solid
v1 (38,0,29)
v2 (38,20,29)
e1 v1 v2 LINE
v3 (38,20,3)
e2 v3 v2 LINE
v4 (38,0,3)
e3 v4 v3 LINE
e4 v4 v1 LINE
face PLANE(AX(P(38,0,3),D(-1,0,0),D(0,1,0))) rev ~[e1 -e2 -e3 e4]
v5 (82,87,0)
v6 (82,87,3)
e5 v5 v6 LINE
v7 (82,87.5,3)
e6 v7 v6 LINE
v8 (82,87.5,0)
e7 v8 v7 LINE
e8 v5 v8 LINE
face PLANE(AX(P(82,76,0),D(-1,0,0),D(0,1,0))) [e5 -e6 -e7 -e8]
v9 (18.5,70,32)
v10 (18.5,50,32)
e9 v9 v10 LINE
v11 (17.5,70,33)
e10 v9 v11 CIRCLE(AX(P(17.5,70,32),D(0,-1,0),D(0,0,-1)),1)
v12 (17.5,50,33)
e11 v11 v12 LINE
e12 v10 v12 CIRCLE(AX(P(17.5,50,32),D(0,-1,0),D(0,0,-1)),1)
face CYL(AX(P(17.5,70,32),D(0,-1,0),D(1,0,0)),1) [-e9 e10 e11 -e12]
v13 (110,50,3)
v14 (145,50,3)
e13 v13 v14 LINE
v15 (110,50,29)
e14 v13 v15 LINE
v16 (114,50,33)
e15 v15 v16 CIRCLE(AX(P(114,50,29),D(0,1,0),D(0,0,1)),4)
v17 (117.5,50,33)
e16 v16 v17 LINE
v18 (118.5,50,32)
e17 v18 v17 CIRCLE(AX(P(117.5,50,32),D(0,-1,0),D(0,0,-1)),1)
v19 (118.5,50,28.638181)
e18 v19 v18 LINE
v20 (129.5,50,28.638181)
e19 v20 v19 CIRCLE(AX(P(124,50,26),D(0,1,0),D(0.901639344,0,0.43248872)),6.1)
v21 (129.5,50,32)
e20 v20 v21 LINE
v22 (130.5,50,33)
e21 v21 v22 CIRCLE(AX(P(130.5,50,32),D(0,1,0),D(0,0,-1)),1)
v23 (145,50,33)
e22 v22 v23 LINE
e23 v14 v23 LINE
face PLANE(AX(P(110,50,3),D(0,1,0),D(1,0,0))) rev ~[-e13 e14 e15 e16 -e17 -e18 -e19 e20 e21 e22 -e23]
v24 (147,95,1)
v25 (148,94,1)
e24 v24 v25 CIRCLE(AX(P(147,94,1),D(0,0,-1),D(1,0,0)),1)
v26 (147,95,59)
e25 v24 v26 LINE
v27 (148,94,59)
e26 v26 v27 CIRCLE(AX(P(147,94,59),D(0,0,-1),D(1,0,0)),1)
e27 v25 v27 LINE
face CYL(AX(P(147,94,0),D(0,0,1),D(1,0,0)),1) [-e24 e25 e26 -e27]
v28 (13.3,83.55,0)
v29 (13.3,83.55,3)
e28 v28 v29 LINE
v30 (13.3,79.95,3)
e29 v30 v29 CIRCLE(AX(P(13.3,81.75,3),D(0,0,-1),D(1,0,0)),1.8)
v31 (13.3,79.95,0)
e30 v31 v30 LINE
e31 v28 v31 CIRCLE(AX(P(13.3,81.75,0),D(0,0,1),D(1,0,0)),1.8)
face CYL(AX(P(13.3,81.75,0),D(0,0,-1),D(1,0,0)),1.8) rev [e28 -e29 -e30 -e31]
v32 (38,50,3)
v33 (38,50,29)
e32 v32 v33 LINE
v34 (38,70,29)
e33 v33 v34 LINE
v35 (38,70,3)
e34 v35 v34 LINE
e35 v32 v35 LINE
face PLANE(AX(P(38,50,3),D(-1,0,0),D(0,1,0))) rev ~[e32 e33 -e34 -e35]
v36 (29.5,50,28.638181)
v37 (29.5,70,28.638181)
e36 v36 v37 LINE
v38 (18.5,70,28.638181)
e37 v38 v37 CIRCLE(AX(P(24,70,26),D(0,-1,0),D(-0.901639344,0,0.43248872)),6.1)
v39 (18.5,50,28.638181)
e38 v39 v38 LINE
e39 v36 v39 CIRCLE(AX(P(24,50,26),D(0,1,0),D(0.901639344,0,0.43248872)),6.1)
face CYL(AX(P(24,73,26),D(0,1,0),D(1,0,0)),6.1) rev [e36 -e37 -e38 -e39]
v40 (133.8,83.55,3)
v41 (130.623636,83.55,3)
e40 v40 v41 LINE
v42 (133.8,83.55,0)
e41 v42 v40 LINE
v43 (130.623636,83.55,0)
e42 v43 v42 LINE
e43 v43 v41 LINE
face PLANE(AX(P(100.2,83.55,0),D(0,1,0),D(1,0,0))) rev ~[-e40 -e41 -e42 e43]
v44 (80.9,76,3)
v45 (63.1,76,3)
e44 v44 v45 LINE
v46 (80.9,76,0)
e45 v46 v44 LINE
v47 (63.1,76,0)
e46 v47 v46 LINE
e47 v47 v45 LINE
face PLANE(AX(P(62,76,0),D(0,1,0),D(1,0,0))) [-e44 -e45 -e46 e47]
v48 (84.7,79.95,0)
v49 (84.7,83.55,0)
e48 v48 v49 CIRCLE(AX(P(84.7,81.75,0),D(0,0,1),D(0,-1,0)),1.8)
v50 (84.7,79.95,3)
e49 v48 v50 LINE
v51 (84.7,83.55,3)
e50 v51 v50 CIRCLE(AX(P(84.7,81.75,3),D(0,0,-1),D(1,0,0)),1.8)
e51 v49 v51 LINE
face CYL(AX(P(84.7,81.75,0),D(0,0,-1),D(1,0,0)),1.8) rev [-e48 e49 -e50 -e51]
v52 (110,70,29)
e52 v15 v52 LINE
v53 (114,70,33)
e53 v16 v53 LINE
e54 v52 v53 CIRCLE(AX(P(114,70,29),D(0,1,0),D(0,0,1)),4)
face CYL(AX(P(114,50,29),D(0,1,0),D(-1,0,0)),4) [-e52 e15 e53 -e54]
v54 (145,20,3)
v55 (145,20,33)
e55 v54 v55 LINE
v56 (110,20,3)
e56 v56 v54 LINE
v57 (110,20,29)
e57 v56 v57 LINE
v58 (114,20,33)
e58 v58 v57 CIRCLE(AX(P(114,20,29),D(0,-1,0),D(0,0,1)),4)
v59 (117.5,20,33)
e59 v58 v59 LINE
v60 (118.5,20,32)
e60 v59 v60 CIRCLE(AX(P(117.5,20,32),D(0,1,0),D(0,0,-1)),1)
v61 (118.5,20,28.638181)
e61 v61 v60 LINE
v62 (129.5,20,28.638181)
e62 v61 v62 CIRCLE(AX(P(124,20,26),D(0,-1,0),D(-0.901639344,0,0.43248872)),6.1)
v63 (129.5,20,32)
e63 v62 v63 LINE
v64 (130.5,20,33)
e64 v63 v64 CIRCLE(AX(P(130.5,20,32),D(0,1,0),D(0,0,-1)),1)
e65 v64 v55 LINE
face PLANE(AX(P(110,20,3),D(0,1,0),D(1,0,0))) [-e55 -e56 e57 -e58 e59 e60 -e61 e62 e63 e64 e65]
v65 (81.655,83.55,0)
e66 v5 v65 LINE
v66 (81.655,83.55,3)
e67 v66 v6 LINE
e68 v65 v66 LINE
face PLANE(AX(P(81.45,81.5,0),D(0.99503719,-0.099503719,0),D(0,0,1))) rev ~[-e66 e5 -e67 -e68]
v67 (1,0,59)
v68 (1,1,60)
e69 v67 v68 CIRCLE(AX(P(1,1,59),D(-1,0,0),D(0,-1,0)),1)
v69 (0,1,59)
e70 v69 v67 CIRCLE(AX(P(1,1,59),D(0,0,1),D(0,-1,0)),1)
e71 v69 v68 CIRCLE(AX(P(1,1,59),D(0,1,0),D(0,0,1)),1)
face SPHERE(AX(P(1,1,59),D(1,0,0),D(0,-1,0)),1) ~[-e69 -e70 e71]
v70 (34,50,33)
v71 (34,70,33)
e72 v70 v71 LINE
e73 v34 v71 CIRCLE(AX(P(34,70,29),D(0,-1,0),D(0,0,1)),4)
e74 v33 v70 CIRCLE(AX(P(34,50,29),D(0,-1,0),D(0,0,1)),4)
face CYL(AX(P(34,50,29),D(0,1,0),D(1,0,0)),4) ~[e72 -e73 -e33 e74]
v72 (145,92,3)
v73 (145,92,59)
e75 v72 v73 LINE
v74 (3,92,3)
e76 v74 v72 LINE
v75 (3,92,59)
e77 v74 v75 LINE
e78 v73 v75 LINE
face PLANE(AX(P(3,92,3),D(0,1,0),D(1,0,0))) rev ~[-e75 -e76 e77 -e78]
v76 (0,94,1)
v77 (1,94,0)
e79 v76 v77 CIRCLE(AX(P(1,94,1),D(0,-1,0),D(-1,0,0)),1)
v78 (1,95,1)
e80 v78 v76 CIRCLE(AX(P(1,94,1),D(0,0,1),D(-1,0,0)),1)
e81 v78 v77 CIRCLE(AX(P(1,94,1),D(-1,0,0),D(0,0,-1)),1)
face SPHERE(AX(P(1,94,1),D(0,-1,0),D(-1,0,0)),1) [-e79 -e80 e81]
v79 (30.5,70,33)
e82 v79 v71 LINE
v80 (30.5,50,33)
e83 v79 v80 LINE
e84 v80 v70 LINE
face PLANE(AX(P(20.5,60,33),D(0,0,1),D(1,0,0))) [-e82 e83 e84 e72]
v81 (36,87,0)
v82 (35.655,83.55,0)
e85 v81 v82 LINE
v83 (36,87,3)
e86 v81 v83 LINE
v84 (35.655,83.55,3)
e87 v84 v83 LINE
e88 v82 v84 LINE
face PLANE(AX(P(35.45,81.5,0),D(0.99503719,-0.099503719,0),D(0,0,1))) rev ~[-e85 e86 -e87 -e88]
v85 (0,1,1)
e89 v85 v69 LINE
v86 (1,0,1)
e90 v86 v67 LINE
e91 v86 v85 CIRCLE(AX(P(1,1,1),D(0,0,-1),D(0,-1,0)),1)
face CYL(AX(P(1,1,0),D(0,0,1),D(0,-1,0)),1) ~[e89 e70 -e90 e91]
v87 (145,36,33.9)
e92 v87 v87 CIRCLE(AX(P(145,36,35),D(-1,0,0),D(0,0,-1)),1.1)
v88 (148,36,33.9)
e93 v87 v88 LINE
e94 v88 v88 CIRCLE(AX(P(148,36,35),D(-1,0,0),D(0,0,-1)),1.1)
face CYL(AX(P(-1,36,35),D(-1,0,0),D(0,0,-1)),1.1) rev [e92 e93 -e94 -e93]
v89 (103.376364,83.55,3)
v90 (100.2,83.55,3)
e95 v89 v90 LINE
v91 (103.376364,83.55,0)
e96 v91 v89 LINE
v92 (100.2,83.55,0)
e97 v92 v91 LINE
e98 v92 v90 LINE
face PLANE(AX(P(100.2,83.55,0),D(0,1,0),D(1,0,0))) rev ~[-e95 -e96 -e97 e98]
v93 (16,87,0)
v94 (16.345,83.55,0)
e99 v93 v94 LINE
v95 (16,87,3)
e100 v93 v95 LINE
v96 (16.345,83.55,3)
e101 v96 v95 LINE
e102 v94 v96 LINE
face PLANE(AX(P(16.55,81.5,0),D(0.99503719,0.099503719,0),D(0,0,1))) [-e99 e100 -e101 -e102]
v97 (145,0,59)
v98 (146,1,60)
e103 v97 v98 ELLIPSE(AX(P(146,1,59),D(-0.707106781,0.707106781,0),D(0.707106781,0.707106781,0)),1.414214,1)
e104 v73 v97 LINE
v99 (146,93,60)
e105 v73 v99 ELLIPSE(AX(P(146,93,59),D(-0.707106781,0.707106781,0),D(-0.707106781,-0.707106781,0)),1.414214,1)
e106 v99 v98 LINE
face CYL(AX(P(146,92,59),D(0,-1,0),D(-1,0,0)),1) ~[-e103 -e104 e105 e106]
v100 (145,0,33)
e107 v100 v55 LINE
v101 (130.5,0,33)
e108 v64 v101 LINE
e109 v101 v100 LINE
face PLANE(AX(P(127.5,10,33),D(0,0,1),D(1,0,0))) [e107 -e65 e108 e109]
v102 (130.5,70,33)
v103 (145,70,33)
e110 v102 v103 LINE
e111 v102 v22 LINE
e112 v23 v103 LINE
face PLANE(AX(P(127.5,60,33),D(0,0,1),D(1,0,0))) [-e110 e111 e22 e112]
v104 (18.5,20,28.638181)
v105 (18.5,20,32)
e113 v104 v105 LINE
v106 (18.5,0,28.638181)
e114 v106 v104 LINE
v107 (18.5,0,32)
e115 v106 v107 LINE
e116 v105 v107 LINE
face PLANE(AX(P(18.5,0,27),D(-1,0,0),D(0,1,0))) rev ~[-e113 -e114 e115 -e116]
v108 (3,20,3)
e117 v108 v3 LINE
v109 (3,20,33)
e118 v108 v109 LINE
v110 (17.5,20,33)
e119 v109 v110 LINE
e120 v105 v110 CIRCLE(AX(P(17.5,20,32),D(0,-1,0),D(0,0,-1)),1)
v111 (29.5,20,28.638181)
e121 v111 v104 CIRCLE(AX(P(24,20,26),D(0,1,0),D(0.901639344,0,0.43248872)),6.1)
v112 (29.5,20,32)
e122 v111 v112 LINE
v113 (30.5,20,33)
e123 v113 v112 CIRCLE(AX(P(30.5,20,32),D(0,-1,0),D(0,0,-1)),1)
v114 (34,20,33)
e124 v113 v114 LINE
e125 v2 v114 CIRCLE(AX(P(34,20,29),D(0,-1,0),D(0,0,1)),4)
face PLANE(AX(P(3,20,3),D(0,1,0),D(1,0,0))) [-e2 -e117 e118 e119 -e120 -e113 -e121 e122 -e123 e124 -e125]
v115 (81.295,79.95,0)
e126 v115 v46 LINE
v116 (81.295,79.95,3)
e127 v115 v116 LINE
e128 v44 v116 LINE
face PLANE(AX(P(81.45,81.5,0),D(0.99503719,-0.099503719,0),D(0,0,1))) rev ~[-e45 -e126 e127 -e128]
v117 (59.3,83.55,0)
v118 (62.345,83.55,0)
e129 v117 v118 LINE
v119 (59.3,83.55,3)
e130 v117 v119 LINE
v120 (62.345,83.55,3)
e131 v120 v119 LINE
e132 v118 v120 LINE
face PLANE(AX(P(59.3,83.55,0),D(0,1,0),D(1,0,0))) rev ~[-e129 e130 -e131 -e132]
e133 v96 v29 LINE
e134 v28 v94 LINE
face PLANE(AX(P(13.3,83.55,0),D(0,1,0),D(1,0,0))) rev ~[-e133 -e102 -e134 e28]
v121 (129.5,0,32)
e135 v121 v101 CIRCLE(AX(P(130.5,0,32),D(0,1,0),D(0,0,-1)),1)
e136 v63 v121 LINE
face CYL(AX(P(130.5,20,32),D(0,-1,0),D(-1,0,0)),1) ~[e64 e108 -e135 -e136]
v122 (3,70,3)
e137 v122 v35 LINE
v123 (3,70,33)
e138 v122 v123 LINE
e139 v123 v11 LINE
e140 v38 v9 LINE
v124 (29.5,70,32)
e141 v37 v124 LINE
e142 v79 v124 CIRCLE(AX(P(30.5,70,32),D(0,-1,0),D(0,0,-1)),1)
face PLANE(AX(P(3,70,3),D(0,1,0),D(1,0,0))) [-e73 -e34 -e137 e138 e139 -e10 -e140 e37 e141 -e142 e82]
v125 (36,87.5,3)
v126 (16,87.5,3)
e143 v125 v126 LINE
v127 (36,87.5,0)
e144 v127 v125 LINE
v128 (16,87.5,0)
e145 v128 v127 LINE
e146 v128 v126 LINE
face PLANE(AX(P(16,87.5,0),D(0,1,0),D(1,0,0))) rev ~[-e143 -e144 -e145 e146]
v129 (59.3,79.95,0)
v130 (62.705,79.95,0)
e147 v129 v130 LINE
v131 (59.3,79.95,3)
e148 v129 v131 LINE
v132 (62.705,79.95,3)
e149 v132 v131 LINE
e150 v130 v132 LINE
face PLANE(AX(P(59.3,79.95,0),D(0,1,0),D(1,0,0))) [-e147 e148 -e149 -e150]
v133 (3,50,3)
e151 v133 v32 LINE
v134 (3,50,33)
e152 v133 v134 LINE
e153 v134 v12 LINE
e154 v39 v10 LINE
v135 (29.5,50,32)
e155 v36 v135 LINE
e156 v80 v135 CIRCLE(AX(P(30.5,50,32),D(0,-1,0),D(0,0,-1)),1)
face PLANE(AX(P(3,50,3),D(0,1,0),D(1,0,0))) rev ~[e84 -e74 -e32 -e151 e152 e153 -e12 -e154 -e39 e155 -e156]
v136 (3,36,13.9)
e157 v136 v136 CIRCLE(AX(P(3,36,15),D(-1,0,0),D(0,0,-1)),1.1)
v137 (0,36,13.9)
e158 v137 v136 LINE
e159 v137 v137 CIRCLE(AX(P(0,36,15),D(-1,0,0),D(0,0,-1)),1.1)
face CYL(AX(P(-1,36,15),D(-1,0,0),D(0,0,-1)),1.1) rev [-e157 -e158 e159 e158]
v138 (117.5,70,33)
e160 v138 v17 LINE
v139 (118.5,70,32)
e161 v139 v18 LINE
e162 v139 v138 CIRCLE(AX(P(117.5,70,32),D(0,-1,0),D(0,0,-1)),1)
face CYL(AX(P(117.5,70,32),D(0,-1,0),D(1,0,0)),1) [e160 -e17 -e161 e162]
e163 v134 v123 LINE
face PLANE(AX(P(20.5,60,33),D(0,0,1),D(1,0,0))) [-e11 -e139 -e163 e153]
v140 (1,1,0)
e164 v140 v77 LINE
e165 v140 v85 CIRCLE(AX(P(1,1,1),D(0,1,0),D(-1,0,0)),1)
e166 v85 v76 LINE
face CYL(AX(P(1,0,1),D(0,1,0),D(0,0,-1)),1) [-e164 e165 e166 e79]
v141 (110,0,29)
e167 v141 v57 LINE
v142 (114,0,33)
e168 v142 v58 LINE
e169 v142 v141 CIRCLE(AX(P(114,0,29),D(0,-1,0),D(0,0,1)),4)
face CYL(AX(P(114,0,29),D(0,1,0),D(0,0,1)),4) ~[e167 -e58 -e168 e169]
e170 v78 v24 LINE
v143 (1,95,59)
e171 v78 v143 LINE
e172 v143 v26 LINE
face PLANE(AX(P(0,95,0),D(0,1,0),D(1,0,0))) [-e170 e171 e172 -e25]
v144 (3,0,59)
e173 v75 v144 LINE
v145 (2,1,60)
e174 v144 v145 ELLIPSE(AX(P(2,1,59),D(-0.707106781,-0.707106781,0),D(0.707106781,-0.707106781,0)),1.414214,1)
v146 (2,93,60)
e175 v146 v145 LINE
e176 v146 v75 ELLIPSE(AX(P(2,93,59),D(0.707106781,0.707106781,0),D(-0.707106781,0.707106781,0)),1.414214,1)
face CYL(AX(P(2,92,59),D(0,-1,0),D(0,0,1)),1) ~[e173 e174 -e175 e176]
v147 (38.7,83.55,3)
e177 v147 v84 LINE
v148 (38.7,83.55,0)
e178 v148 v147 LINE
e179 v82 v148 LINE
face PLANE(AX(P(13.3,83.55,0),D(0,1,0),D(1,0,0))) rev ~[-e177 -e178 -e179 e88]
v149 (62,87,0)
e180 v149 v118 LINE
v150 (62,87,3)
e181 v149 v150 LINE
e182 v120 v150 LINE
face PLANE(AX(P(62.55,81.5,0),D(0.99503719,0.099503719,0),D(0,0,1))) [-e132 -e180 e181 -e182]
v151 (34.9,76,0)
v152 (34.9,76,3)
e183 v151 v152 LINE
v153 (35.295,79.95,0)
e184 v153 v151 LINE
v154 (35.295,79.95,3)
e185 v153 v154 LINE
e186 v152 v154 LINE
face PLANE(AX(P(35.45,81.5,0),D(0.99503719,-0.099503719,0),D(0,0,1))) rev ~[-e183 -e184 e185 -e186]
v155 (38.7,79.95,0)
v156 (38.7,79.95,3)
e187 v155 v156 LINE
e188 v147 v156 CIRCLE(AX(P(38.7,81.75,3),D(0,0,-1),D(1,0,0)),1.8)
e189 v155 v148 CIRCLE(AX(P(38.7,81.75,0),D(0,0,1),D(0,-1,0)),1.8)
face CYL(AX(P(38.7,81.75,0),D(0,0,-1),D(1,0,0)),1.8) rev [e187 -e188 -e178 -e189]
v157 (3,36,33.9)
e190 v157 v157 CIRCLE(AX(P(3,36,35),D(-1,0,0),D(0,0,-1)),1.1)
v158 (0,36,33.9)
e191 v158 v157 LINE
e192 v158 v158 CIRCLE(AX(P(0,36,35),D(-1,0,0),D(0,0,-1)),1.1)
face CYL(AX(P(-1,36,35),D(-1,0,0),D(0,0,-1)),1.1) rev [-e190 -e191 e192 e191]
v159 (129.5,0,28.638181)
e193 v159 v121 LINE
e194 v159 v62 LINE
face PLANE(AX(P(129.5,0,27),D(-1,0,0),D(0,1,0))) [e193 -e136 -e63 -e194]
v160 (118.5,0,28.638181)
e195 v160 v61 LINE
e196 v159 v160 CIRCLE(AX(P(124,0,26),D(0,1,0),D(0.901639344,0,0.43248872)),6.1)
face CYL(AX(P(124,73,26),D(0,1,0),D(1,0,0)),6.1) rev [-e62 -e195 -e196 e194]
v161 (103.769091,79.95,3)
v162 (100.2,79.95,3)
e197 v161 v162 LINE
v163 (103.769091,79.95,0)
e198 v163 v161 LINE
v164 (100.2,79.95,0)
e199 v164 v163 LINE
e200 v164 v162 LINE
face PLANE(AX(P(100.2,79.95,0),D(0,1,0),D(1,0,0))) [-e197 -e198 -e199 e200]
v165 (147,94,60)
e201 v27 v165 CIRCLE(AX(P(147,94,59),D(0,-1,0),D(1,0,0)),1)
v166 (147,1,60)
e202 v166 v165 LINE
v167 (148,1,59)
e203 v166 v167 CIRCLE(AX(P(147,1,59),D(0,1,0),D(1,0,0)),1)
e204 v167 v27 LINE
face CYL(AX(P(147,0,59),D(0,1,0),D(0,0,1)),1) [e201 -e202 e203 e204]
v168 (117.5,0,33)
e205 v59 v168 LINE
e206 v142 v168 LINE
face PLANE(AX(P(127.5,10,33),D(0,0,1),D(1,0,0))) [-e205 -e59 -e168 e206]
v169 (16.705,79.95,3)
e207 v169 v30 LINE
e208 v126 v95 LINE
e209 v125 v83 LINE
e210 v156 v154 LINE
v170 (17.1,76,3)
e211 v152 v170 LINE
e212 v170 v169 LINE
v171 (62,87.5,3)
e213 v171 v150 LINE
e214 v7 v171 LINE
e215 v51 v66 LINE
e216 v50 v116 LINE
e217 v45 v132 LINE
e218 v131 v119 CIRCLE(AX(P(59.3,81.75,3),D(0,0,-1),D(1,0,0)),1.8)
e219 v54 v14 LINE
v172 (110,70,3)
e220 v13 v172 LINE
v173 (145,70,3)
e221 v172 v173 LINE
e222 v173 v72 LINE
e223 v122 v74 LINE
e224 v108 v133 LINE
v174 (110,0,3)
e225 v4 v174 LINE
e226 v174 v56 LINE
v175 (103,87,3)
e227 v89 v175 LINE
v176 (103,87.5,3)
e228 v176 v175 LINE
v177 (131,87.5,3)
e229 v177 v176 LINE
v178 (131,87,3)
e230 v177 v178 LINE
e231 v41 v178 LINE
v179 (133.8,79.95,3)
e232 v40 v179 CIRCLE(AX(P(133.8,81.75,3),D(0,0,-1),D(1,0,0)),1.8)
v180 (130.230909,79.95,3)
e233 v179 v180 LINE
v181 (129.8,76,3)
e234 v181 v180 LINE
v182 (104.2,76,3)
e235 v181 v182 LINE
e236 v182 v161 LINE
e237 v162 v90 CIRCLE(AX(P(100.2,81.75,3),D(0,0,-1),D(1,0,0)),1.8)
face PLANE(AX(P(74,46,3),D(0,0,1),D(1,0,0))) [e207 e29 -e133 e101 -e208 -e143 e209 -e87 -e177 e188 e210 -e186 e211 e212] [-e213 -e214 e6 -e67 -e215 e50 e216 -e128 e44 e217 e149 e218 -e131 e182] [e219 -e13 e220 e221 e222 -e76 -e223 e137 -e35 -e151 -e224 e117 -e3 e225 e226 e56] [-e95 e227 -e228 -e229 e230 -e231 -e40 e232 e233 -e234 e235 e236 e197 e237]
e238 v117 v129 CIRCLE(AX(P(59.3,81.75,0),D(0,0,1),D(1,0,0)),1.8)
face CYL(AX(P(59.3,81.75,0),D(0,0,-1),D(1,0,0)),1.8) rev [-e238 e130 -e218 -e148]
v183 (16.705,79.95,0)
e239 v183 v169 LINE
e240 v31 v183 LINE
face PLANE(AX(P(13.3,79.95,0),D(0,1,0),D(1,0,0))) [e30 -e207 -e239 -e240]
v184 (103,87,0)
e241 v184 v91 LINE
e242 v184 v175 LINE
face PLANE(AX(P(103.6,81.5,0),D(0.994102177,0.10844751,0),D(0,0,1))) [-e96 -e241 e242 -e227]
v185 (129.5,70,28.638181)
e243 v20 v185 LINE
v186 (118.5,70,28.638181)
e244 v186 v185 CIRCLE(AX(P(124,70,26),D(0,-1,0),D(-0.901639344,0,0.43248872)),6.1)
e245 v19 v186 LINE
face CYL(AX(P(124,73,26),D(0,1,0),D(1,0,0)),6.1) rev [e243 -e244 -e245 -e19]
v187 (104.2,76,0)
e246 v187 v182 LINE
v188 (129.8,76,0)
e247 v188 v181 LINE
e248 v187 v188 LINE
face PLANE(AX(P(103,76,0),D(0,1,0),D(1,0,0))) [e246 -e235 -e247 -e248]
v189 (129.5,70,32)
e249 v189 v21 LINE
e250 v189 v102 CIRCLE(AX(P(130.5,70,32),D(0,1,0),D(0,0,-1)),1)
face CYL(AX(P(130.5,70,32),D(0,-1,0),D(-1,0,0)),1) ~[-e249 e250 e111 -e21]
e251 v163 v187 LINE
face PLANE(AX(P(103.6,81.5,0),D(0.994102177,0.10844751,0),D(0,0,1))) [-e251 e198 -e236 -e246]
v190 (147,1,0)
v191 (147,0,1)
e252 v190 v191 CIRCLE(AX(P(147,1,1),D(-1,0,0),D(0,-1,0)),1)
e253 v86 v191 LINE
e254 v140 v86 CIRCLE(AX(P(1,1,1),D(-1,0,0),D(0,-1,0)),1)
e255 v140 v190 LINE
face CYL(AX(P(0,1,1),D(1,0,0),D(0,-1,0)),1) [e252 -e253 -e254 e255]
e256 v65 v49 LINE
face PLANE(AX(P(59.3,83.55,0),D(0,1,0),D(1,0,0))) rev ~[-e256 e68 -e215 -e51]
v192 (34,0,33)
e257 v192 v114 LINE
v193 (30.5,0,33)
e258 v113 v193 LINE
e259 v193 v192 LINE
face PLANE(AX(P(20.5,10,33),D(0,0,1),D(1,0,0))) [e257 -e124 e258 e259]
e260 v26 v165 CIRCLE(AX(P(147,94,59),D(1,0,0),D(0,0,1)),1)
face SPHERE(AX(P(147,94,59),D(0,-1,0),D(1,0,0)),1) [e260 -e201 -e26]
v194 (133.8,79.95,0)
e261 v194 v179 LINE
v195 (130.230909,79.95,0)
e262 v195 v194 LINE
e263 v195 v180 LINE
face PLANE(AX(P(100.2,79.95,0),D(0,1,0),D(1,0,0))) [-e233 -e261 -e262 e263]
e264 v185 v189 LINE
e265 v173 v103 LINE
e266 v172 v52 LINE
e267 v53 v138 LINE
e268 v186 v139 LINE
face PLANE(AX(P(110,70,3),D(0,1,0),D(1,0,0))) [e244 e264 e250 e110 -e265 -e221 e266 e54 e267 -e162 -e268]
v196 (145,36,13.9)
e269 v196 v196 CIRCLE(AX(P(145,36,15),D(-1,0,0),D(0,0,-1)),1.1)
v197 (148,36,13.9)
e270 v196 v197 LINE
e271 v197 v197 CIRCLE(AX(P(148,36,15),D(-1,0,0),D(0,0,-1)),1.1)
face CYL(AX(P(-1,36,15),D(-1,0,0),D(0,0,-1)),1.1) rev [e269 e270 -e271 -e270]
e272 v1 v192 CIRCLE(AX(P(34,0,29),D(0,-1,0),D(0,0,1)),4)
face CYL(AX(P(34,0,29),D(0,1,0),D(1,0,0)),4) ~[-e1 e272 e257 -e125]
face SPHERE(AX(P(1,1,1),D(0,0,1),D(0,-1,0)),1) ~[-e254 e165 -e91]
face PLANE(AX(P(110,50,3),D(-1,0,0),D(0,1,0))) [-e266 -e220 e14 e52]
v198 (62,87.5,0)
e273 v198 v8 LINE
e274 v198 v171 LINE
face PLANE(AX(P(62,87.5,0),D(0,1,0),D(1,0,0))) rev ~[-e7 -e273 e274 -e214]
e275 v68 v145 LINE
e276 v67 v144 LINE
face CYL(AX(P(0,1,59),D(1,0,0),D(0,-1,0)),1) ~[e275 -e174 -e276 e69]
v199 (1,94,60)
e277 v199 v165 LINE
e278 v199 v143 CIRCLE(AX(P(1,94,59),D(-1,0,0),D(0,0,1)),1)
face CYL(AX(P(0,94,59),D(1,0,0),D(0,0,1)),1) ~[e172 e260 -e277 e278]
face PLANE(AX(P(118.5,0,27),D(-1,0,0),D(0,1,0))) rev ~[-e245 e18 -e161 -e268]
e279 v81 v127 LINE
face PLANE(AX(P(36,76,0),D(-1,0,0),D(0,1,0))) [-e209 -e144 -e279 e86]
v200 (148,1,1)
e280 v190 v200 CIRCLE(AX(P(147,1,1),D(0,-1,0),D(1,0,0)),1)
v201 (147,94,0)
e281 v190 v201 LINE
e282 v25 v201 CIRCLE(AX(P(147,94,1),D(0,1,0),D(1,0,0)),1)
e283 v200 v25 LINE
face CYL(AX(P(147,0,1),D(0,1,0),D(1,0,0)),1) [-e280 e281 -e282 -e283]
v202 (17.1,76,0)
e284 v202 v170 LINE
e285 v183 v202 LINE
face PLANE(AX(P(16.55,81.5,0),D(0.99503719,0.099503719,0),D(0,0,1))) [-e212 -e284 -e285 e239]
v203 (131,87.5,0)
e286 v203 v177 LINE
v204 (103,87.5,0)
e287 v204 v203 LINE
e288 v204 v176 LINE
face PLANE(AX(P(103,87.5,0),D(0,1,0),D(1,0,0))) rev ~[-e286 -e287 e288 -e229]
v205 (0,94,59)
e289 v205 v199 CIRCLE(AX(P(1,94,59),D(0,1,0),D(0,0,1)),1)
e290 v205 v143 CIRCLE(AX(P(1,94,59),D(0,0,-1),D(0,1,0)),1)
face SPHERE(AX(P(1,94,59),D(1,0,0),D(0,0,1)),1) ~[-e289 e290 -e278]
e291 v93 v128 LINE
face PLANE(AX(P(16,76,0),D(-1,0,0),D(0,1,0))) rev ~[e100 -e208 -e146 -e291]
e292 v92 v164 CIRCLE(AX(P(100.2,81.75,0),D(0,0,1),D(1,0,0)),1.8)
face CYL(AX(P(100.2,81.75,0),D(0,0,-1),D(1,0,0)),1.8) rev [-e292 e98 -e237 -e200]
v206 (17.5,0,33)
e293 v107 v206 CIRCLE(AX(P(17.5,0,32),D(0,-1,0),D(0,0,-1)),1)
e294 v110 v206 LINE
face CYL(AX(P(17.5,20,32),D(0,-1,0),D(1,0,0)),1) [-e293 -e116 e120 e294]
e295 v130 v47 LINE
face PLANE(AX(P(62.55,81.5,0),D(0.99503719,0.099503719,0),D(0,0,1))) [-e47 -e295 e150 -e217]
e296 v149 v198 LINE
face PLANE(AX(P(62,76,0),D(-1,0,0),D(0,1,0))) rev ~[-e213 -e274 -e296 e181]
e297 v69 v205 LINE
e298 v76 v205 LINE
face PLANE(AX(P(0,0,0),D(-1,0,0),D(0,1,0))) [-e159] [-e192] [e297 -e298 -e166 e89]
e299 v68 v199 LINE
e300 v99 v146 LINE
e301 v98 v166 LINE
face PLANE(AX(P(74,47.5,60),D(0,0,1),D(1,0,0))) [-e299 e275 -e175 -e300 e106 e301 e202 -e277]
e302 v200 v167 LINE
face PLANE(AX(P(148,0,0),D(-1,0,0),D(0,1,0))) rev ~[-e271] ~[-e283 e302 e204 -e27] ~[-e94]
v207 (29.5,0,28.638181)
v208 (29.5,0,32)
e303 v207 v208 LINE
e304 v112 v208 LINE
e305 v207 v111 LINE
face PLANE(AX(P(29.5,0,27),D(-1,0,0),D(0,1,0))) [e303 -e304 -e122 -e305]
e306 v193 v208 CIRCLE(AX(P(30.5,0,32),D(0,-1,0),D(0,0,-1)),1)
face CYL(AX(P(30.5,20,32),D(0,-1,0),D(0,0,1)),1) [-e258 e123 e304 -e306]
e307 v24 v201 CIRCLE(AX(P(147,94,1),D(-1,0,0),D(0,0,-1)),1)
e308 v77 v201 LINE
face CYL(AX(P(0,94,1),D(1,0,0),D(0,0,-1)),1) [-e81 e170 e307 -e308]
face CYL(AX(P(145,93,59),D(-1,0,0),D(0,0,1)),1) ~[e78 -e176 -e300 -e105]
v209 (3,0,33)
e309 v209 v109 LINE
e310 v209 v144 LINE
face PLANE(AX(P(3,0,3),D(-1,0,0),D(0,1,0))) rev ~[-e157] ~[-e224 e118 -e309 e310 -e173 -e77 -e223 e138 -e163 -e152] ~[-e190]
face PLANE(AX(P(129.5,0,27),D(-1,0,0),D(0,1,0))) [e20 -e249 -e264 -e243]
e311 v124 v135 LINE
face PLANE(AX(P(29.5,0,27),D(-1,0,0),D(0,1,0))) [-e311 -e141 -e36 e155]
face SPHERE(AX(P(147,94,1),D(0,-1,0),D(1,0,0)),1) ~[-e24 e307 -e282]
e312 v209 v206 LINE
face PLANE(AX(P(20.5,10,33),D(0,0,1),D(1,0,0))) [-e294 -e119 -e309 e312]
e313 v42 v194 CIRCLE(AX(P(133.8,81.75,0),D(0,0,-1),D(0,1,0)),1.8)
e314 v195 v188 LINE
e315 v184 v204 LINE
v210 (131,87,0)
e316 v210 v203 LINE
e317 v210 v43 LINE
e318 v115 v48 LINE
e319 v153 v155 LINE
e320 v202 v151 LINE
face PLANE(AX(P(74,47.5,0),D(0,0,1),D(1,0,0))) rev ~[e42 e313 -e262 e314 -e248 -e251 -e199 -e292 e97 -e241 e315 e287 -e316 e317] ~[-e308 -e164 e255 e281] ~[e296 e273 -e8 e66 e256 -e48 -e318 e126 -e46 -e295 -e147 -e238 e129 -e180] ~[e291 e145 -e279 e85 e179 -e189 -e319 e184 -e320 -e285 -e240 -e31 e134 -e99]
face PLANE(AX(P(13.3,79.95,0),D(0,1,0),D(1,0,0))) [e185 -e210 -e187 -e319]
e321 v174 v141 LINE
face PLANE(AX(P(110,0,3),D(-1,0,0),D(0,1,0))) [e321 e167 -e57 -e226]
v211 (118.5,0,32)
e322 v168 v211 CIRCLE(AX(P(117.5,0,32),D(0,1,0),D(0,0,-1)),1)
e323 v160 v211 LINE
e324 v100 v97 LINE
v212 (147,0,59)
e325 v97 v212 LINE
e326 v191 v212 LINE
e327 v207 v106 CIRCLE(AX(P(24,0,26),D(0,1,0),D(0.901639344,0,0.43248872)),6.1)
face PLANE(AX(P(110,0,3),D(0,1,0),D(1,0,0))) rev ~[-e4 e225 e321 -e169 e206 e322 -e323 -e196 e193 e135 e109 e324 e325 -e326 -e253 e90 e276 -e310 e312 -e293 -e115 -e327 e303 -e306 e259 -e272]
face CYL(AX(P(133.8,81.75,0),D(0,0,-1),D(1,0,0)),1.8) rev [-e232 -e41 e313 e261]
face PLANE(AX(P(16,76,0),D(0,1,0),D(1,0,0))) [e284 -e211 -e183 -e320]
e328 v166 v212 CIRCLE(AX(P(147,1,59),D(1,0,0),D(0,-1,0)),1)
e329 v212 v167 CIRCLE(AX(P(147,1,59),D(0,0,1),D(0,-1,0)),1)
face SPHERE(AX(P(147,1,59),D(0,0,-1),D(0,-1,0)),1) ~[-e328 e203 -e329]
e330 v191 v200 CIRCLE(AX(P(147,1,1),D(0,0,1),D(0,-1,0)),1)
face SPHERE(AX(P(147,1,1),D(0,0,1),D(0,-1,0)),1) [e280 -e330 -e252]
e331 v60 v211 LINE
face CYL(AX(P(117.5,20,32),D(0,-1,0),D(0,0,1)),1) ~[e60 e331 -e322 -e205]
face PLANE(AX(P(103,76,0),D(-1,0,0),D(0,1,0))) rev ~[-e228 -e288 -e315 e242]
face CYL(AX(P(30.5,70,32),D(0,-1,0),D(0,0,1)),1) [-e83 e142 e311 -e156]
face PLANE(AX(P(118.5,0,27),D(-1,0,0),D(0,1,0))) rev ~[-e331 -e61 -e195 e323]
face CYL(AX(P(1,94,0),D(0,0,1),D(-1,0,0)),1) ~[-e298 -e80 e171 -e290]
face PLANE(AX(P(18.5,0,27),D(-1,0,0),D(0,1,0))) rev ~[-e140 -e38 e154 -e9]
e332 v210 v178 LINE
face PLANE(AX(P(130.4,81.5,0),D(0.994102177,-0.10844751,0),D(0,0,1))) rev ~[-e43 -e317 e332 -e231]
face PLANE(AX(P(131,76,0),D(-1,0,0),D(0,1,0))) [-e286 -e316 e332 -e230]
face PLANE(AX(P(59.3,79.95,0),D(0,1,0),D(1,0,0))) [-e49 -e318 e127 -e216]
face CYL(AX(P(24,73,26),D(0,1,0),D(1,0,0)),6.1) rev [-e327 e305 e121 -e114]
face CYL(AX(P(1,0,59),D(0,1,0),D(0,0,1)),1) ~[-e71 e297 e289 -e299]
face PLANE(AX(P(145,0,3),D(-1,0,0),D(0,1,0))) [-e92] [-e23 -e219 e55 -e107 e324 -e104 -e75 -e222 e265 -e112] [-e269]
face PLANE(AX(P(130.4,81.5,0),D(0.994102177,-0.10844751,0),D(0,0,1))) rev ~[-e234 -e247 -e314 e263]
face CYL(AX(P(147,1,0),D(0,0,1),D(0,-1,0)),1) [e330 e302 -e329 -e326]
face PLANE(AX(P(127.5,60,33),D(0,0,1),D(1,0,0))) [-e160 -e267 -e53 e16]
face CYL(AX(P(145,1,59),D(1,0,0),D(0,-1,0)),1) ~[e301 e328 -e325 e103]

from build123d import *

# Parameters (mm, degrees)
CYLINDER009_R      = 1.1
CYLINDER009_DEPTH  = 150
CYLINDER008_R      = 1.1
CYLINDER008_DEPTH  = 150
BOX011_W           = 25.4
BOX011_H           = 3.6
BOX011_DEPTH       = 10
CYLINDER005_R      = 1.8
CYLINDER005_DEPTH  = 10
CYLINDER004_R      = 1.8
CYLINDER004_DEPTH  = 10
BOX010_W           = 20
BOX010_H           = 11.5
BOX010_DEPTH       = 10
CHAMFER001_1_SIZE2 = 1.1
CHAMFER001_1_SIZE  = 11
CHAMFER001_2_SIZE2 = 1.1
CHAMFER001_2_SIZE  = 11
BOX013_W           = 25.4
BOX013_H           = 3.6
BOX013_DEPTH       = 10
CYLINDER006_R      = 1.8
CYLINDER006_DEPTH  = 10
CYLINDER007_R      = 1.8
CYLINDER007_DEPTH  = 10
BOX012_W           = 20
BOX012_H           = 11.5
BOX012_DEPTH       = 10
CHAMFER002_1_SIZE2 = 1.1
CHAMFER002_1_SIZE  = 11
CHAMFER002_2_SIZE2 = 1.1
CHAMFER002_2_SIZE  = 11
CYLINDER003_R      = 1.8
CYLINDER003_DEPTH  = 10
BOX009_W           = 33.6
BOX009_H           = 3.6
BOX009_DEPTH       = 10
CYLINDER002_R      = 1.8
CYLINDER002_DEPTH  = 10
BOX008_W           = 28
BOX008_H           = 11.5
BOX008_DEPTH       = 10
CHAMFER_1_SIZE2    = 1.2
CHAMFER_1_SIZE     = 11
CHAMFER_2_SIZE2    = 1.2
CHAMFER_2_SIZE     = 11
BOX006_W           = 11
BOX006_H           = 73
BOX006_DEPTH       = 15
BOX007_W           = 11
BOX007_H           = 73
BOX007_DEPTH       = 15
CYLINDER001_R      = 6.1
CYLINDER001_DEPTH  = 80
CYLINDER_R         = 6.1
CYLINDER_DEPTH     = 80
BOX002_W           = 35
BOX002_H           = 20
BOX002_DEPTH       = 30
BOX003_W           = 35
BOX003_H           = 20
BOX003_DEPTH       = 30
BOX004_W           = 35
BOX004_H           = 20
BOX004_DEPTH       = 30
BOX005_W           = 35
BOX005_H           = 20
BOX005_DEPTH       = 30
BOX001_W           = 142
BOX001_H           = 92
BOX001_DEPTH       = 60
BOX_W              = 148
BOX_H              = 95
BOX_DEPTH          = 60
FILLET_R           = 1
FILLET001_R        = 4
FILLET002_R        = 1


with BuildPart() as cylinder009:
    # Cylinder009 → Cylinder009 (new body)
    with BuildSketch(Plane(origin=(-1, 36, 35), x_dir=(0, 0, -1), z_dir=(1, 0, 0))):
        Circle(CYLINDER009_R)
    extrude(amount=CYLINDER009_DEPTH)


with BuildPart() as cylinder008:
    # Cylinder008 → Cylinder008 (new body)
    with BuildSketch(Plane(origin=(-1, 36, 15), x_dir=(0, 0, -1), z_dir=(1, 0, 0))):
        Circle(CYLINDER008_R)
    extrude(amount=CYLINDER008_DEPTH)


with BuildPart() as cube011:
    # Box011 → Box011 (new body)
    with BuildSketch(Plane(origin=(-2.7, 3.95, 0), x_dir=(1, 0, 0), z_dir=(0, 0, 1))):
        with Locations((12.7, 1.8)):
            Rectangle(BOX011_W, BOX011_H)
    extrude(amount=BOX011_DEPTH)


with BuildPart() as cylinder005:
    # Cylinder005 → Cylinder005 (new body)
    with BuildSketch(Plane(origin=(22.7, 5.75, 0), x_dir=(1, 0, 0), z_dir=(0, 0, 1))):
        Circle(CYLINDER005_R)
    extrude(amount=CYLINDER005_DEPTH)


with BuildPart() as cylinder004:
    # Cylinder004 → Cylinder004 (new body)
    with BuildSketch(Plane(origin=(-2.7, 5.75, 0), x_dir=(1, 0, 0), z_dir=(0, 0, 1))):
        Circle(CYLINDER004_R)
    extrude(amount=CYLINDER004_DEPTH)


with BuildPart() as steckerkurz:
    # Box010 → Box010 (new body)
    with BuildSketch(Plane.XY):
        with Locations((10, 5.75)):
            Rectangle(BOX010_W, BOX010_H)
    extrude(amount=BOX010_DEPTH)

    # Chamfer001 1
    chamfer001_1_edges = [steckerkurz.edges().sort_by_distance(p)[0] for p in [
        (20, 0, 5),
    ]]
    chamfer001_1_side = steckerkurz.faces().sort_by_distance((20, 5.75, 5))[0]
    chamfer(chamfer001_1_edges, length=CHAMFER001_1_SIZE, length2=CHAMFER001_1_SIZE2, reference=chamfer001_1_side)

    # Chamfer001 2
    chamfer001_2_edges = [steckerkurz.edges().sort_by_distance(p)[0] for p in [
        (0, 0, 5),
    ]]
    chamfer001_2_side = steckerkurz.faces().sort_by_distance((0, 5.75, 5))[0]
    chamfer(chamfer001_2_edges, length=CHAMFER001_2_SIZE, length2=CHAMFER001_2_SIZE2, reference=chamfer001_2_side)

    # Fusion002: union Cube011, Cylinder005, Cylinder004
    add(cube011.part)
    add(cylinder005.part)
    add(cylinder004.part)


with BuildPart() as steckerkurz_1:
    # Fusion002 placement: moved
    add(steckerkurz.part.moved(Location((16, 76, 0))))


with BuildPart() as cube013:
    # Box013 → Box013 (new body)
    with BuildSketch(Plane(origin=(-2.7, 3.95, 0), x_dir=(1, 0, 0), z_dir=(0, 0, 1))):
        with Locations((12.7, 1.8)):
            Rectangle(BOX013_W, BOX013_H)
    extrude(amount=BOX013_DEPTH)


with BuildPart() as cylinder006:
    # Cylinder006 → Cylinder006 (new body)
    with BuildSketch(Plane(origin=(22.7, 5.75, 0), x_dir=(1, 0, 0), z_dir=(0, 0, 1))):
        Circle(CYLINDER006_R)
    extrude(amount=CYLINDER006_DEPTH)


with BuildPart() as cylinder007:
    # Cylinder007 → Cylinder007 (new body)
    with BuildSketch(Plane(origin=(-2.7, 5.75, 0), x_dir=(1, 0, 0), z_dir=(0, 0, 1))):
        Circle(CYLINDER007_R)
    extrude(amount=CYLINDER007_DEPTH)


with BuildPart() as steckerkurz001:
    # Box012 → Box012 (new body)
    with BuildSketch(Plane.XY):
        with Locations((10, 5.75)):
            Rectangle(BOX012_W, BOX012_H)
    extrude(amount=BOX012_DEPTH)

    # Chamfer002 1
    chamfer002_1_edges = [steckerkurz001.edges().sort_by_distance(p)[0] for p in [
        (20, 0, 5),
    ]]
    chamfer002_1_side = steckerkurz001.faces().sort_by_distance((20, 5.75, 5))[0]
    chamfer(chamfer002_1_edges, length=CHAMFER002_1_SIZE, length2=CHAMFER002_1_SIZE2, reference=chamfer002_1_side)

    # Chamfer002 2
    chamfer002_2_edges = [steckerkurz001.edges().sort_by_distance(p)[0] for p in [
        (0, 0, 5),
    ]]
    chamfer002_2_side = steckerkurz001.faces().sort_by_distance((0, 5.75, 5))[0]
    chamfer(chamfer002_2_edges, length=CHAMFER002_2_SIZE, length2=CHAMFER002_2_SIZE2, reference=chamfer002_2_side)

    # Fusion003: union Cube013, Cylinder006, Cylinder007
    add(cube013.part)
    add(cylinder006.part)
    add(cylinder007.part)


with BuildPart() as steckerkurz001_1:
    # Fusion003 placement: moved
    add(steckerkurz001.part.moved(Location((62, 76, 0))))


with BuildPart() as cylinder003:
    # Cylinder003 → Cylinder003 (new body)
    with BuildSketch(Plane(origin=(30.8, 5.75, 0), x_dir=(1, 0, 0), z_dir=(0, 0, 1))):
        Circle(CYLINDER003_R)
    extrude(amount=CYLINDER003_DEPTH)


with BuildPart() as cube009:
    # Box009 → Box009 (new body)
    with BuildSketch(Plane(origin=(-2.8, 3.95, 0), x_dir=(1, 0, 0), z_dir=(0, 0, 1))):
        with Locations((16.8, 1.8)):
            Rectangle(BOX009_W, BOX009_H)
    extrude(amount=BOX009_DEPTH)


with BuildPart() as cylinder002:
    # Cylinder002 → Cylinder002 (new body)
    with BuildSketch(Plane(origin=(-2.8, 5.75, 0), x_dir=(1, 0, 0), z_dir=(0, 0, 1))):
        Circle(CYLINDER002_R)
    extrude(amount=CYLINDER002_DEPTH)


with BuildPart() as steckerlang:
    # Box008 → Box008 (new body)
    with BuildSketch(Plane.XY):
        with Locations((14, 5.75)):
            Rectangle(BOX008_W, BOX008_H)
    extrude(amount=BOX008_DEPTH)

    # Chamfer 1
    chamfer_1_edges = [steckerlang.edges().sort_by_distance(p)[0] for p in [
        (28, 0, 5),
    ]]
    chamfer_1_side = steckerlang.faces().sort_by_distance((28, 5.75, 5))[0]
    chamfer(chamfer_1_edges, length=CHAMFER_1_SIZE, length2=CHAMFER_1_SIZE2, reference=chamfer_1_side)

    # Chamfer 2
    chamfer_2_edges = [steckerlang.edges().sort_by_distance(p)[0] for p in [
        (0, 0, 5),
    ]]
    chamfer_2_side = steckerlang.faces().sort_by_distance((0, 5.75, 5))[0]
    chamfer(chamfer_2_edges, length=CHAMFER_2_SIZE, length2=CHAMFER_2_SIZE2, reference=chamfer_2_side)

    # Fusion001: union Cylinder003, Cube009, Cylinder002
    add(cylinder003.part)
    add(cube009.part)
    add(cylinder002.part)


with BuildPart() as steckerlang_1:
    # Fusion001 placement: moved
    add(steckerlang.part.moved(Location((103, 76, 0))))


with BuildPart() as cube006:
    # Box006 → Box006 (new body)
    with BuildSketch(Plane(origin=(118.5, 0, 27), x_dir=(1, 0, 0), z_dir=(0, 0, 1))):
        with Locations((5.5, 36.5)):
            Rectangle(BOX006_W, BOX006_H)
    extrude(amount=BOX006_DEPTH)


with BuildPart() as cube007:
    # Box007 → Box007 (new body)
    with BuildSketch(Plane(origin=(18.5, 0, 27), x_dir=(1, 0, 0), z_dir=(0, 0, 1))):
        with Locations((5.5, 36.5)):
            Rectangle(BOX007_W, BOX007_H)
    extrude(amount=BOX007_DEPTH)


with BuildPart() as cylinder001:
    # Cylinder001 → Cylinder001 (new body)
    with BuildSketch(Plane(origin=(124, 73, 26), x_dir=(1, 0, 0), z_dir=(0, -1, 0))):
        Circle(CYLINDER001_R)
    extrude(amount=CYLINDER001_DEPTH)


with BuildPart() as cylinder:
    # Cylinder → Cylinder (new body)
    with BuildSketch(Plane(origin=(24, 73, 26), x_dir=(1, 0, 0), z_dir=(0, -1, 0))):
        Circle(CYLINDER_R)
    extrude(amount=CYLINDER_DEPTH)


with BuildPart() as cube002:
    # Box002 → Box002 (new body)
    with BuildSketch(Plane(origin=(3, 0, 3), x_dir=(1, 0, 0), z_dir=(0, 0, 1))):
        with Locations((17.5, 10)):
            Rectangle(BOX002_W, BOX002_H)
    extrude(amount=BOX002_DEPTH)


with BuildPart() as cube003:
    # Box003 → Box003 (new body)
    with BuildSketch(Plane(origin=(3, 50, 3), x_dir=(1, 0, 0), z_dir=(0, 0, 1))):
        with Locations((17.5, 10)):
            Rectangle(BOX003_W, BOX003_H)
    extrude(amount=BOX003_DEPTH)


with BuildPart() as cube004:
    # Box004 → Box004 (new body)
    with BuildSketch(Plane(origin=(110, 0, 3), x_dir=(1, 0, 0), z_dir=(0, 0, 1))):
        with Locations((17.5, 10)):
            Rectangle(BOX004_W, BOX004_H)
    extrude(amount=BOX004_DEPTH)


with BuildPart() as cube005:
    # Box005 → Box005 (new body)
    with BuildSketch(Plane(origin=(110, 50, 3), x_dir=(1, 0, 0), z_dir=(0, 0, 1))):
        with Locations((17.5, 10)):
            Rectangle(BOX005_W, BOX005_H)
    extrude(amount=BOX005_DEPTH)


with BuildPart() as cube001:
    # Box001 → Box001 (new body)
    with BuildSketch(Plane(origin=(3, 0, 3), x_dir=(1, 0, 0), z_dir=(0, 0, 1))):
        with Locations((71, 46)):
            Rectangle(BOX001_W, BOX001_H)
    extrude(amount=BOX001_DEPTH)


with BuildPart() as fillet002:
    # Box → Box (new body)
    with BuildSketch(Plane.XY):
        with Locations((74, 47.5)):
            Rectangle(BOX_W, BOX_H)
    extrude(amount=BOX_DEPTH)

    # Cut: cut Cube001
    add(cube001.part, mode=Mode.SUBTRACT)

    # Fusion: union Cube002, Cube003, Cube004, Cube005
    add(cube002.part)
    add(cube003.part)
    add(cube004.part)
    add(cube005.part)

    # Cut001: cut Cylinder
    add(cylinder.part, mode=Mode.SUBTRACT)

    # Cut002: cut Cylinder001
    add(cylinder001.part, mode=Mode.SUBTRACT)

    # Cut003: cut Cube007
    add(cube007.part, mode=Mode.SUBTRACT)

    # Cut004: cut Cube006
    add(cube006.part, mode=Mode.SUBTRACT)

    # Fillet
    fillet_edges = [fillet002.edges().sort_by_distance(p)[0] for p in [
        (29.5, 10, 33),
        (18.5, 10, 33),
        (18.5, 60, 33),
        (29.5, 60, 33),
        (129.5, 60, 33),
        (129.5, 10, 33),
        (118.5, 60, 33),
        (118.5, 10, 33),
    ]]
    fillet(fillet_edges, radius=FILLET_R)

    # Fillet001
    fillet001_edges = [fillet002.edges().sort_by_distance(p)[0] for p in [
        (38, 10, 33),
        (38, 60, 33),
        (110, 60, 33),
        (110, 10, 33),
    ]]
    fillet(fillet001_edges, radius=FILLET001_R)

    # Cut005: cut SteckerLang
    add(steckerlang_1.part, mode=Mode.SUBTRACT)

    # Cut006: cut SteckerKurz001
    add(steckerkurz001_1.part, mode=Mode.SUBTRACT)

    # Cut007: cut SteckerKurz
    add(steckerkurz_1.part, mode=Mode.SUBTRACT)

    # Cut008: cut Cylinder008
    add(cylinder008.part, mode=Mode.SUBTRACT)

    # Cut009: cut Cylinder009
    add(cylinder009.part, mode=Mode.SUBTRACT)

    # Fillet002
    fillet002_edges = [fillet002.edges().sort_by_distance(p)[0] for p in [
        (148, 0, 30),
        (146.5, 0, 60),
        (1.5, 0, 60),
        (0, 0, 30),
        (74, 0, 0),
        (148, 47.5, 60),
        (148, 47.5, 0),
        (148, 95, 30),
        (74, 95, 60),
        (145, 46, 60),
        (74, 92, 60),
        (3, 46, 60),
        (0, 47.5, 60),
        (0, 47.5, 0),
        (0, 95, 30),
        (74, 95, 0),
    ]]
    fillet(fillet002_edges, radius=FILLET002_R)


solid = fillet002.part
